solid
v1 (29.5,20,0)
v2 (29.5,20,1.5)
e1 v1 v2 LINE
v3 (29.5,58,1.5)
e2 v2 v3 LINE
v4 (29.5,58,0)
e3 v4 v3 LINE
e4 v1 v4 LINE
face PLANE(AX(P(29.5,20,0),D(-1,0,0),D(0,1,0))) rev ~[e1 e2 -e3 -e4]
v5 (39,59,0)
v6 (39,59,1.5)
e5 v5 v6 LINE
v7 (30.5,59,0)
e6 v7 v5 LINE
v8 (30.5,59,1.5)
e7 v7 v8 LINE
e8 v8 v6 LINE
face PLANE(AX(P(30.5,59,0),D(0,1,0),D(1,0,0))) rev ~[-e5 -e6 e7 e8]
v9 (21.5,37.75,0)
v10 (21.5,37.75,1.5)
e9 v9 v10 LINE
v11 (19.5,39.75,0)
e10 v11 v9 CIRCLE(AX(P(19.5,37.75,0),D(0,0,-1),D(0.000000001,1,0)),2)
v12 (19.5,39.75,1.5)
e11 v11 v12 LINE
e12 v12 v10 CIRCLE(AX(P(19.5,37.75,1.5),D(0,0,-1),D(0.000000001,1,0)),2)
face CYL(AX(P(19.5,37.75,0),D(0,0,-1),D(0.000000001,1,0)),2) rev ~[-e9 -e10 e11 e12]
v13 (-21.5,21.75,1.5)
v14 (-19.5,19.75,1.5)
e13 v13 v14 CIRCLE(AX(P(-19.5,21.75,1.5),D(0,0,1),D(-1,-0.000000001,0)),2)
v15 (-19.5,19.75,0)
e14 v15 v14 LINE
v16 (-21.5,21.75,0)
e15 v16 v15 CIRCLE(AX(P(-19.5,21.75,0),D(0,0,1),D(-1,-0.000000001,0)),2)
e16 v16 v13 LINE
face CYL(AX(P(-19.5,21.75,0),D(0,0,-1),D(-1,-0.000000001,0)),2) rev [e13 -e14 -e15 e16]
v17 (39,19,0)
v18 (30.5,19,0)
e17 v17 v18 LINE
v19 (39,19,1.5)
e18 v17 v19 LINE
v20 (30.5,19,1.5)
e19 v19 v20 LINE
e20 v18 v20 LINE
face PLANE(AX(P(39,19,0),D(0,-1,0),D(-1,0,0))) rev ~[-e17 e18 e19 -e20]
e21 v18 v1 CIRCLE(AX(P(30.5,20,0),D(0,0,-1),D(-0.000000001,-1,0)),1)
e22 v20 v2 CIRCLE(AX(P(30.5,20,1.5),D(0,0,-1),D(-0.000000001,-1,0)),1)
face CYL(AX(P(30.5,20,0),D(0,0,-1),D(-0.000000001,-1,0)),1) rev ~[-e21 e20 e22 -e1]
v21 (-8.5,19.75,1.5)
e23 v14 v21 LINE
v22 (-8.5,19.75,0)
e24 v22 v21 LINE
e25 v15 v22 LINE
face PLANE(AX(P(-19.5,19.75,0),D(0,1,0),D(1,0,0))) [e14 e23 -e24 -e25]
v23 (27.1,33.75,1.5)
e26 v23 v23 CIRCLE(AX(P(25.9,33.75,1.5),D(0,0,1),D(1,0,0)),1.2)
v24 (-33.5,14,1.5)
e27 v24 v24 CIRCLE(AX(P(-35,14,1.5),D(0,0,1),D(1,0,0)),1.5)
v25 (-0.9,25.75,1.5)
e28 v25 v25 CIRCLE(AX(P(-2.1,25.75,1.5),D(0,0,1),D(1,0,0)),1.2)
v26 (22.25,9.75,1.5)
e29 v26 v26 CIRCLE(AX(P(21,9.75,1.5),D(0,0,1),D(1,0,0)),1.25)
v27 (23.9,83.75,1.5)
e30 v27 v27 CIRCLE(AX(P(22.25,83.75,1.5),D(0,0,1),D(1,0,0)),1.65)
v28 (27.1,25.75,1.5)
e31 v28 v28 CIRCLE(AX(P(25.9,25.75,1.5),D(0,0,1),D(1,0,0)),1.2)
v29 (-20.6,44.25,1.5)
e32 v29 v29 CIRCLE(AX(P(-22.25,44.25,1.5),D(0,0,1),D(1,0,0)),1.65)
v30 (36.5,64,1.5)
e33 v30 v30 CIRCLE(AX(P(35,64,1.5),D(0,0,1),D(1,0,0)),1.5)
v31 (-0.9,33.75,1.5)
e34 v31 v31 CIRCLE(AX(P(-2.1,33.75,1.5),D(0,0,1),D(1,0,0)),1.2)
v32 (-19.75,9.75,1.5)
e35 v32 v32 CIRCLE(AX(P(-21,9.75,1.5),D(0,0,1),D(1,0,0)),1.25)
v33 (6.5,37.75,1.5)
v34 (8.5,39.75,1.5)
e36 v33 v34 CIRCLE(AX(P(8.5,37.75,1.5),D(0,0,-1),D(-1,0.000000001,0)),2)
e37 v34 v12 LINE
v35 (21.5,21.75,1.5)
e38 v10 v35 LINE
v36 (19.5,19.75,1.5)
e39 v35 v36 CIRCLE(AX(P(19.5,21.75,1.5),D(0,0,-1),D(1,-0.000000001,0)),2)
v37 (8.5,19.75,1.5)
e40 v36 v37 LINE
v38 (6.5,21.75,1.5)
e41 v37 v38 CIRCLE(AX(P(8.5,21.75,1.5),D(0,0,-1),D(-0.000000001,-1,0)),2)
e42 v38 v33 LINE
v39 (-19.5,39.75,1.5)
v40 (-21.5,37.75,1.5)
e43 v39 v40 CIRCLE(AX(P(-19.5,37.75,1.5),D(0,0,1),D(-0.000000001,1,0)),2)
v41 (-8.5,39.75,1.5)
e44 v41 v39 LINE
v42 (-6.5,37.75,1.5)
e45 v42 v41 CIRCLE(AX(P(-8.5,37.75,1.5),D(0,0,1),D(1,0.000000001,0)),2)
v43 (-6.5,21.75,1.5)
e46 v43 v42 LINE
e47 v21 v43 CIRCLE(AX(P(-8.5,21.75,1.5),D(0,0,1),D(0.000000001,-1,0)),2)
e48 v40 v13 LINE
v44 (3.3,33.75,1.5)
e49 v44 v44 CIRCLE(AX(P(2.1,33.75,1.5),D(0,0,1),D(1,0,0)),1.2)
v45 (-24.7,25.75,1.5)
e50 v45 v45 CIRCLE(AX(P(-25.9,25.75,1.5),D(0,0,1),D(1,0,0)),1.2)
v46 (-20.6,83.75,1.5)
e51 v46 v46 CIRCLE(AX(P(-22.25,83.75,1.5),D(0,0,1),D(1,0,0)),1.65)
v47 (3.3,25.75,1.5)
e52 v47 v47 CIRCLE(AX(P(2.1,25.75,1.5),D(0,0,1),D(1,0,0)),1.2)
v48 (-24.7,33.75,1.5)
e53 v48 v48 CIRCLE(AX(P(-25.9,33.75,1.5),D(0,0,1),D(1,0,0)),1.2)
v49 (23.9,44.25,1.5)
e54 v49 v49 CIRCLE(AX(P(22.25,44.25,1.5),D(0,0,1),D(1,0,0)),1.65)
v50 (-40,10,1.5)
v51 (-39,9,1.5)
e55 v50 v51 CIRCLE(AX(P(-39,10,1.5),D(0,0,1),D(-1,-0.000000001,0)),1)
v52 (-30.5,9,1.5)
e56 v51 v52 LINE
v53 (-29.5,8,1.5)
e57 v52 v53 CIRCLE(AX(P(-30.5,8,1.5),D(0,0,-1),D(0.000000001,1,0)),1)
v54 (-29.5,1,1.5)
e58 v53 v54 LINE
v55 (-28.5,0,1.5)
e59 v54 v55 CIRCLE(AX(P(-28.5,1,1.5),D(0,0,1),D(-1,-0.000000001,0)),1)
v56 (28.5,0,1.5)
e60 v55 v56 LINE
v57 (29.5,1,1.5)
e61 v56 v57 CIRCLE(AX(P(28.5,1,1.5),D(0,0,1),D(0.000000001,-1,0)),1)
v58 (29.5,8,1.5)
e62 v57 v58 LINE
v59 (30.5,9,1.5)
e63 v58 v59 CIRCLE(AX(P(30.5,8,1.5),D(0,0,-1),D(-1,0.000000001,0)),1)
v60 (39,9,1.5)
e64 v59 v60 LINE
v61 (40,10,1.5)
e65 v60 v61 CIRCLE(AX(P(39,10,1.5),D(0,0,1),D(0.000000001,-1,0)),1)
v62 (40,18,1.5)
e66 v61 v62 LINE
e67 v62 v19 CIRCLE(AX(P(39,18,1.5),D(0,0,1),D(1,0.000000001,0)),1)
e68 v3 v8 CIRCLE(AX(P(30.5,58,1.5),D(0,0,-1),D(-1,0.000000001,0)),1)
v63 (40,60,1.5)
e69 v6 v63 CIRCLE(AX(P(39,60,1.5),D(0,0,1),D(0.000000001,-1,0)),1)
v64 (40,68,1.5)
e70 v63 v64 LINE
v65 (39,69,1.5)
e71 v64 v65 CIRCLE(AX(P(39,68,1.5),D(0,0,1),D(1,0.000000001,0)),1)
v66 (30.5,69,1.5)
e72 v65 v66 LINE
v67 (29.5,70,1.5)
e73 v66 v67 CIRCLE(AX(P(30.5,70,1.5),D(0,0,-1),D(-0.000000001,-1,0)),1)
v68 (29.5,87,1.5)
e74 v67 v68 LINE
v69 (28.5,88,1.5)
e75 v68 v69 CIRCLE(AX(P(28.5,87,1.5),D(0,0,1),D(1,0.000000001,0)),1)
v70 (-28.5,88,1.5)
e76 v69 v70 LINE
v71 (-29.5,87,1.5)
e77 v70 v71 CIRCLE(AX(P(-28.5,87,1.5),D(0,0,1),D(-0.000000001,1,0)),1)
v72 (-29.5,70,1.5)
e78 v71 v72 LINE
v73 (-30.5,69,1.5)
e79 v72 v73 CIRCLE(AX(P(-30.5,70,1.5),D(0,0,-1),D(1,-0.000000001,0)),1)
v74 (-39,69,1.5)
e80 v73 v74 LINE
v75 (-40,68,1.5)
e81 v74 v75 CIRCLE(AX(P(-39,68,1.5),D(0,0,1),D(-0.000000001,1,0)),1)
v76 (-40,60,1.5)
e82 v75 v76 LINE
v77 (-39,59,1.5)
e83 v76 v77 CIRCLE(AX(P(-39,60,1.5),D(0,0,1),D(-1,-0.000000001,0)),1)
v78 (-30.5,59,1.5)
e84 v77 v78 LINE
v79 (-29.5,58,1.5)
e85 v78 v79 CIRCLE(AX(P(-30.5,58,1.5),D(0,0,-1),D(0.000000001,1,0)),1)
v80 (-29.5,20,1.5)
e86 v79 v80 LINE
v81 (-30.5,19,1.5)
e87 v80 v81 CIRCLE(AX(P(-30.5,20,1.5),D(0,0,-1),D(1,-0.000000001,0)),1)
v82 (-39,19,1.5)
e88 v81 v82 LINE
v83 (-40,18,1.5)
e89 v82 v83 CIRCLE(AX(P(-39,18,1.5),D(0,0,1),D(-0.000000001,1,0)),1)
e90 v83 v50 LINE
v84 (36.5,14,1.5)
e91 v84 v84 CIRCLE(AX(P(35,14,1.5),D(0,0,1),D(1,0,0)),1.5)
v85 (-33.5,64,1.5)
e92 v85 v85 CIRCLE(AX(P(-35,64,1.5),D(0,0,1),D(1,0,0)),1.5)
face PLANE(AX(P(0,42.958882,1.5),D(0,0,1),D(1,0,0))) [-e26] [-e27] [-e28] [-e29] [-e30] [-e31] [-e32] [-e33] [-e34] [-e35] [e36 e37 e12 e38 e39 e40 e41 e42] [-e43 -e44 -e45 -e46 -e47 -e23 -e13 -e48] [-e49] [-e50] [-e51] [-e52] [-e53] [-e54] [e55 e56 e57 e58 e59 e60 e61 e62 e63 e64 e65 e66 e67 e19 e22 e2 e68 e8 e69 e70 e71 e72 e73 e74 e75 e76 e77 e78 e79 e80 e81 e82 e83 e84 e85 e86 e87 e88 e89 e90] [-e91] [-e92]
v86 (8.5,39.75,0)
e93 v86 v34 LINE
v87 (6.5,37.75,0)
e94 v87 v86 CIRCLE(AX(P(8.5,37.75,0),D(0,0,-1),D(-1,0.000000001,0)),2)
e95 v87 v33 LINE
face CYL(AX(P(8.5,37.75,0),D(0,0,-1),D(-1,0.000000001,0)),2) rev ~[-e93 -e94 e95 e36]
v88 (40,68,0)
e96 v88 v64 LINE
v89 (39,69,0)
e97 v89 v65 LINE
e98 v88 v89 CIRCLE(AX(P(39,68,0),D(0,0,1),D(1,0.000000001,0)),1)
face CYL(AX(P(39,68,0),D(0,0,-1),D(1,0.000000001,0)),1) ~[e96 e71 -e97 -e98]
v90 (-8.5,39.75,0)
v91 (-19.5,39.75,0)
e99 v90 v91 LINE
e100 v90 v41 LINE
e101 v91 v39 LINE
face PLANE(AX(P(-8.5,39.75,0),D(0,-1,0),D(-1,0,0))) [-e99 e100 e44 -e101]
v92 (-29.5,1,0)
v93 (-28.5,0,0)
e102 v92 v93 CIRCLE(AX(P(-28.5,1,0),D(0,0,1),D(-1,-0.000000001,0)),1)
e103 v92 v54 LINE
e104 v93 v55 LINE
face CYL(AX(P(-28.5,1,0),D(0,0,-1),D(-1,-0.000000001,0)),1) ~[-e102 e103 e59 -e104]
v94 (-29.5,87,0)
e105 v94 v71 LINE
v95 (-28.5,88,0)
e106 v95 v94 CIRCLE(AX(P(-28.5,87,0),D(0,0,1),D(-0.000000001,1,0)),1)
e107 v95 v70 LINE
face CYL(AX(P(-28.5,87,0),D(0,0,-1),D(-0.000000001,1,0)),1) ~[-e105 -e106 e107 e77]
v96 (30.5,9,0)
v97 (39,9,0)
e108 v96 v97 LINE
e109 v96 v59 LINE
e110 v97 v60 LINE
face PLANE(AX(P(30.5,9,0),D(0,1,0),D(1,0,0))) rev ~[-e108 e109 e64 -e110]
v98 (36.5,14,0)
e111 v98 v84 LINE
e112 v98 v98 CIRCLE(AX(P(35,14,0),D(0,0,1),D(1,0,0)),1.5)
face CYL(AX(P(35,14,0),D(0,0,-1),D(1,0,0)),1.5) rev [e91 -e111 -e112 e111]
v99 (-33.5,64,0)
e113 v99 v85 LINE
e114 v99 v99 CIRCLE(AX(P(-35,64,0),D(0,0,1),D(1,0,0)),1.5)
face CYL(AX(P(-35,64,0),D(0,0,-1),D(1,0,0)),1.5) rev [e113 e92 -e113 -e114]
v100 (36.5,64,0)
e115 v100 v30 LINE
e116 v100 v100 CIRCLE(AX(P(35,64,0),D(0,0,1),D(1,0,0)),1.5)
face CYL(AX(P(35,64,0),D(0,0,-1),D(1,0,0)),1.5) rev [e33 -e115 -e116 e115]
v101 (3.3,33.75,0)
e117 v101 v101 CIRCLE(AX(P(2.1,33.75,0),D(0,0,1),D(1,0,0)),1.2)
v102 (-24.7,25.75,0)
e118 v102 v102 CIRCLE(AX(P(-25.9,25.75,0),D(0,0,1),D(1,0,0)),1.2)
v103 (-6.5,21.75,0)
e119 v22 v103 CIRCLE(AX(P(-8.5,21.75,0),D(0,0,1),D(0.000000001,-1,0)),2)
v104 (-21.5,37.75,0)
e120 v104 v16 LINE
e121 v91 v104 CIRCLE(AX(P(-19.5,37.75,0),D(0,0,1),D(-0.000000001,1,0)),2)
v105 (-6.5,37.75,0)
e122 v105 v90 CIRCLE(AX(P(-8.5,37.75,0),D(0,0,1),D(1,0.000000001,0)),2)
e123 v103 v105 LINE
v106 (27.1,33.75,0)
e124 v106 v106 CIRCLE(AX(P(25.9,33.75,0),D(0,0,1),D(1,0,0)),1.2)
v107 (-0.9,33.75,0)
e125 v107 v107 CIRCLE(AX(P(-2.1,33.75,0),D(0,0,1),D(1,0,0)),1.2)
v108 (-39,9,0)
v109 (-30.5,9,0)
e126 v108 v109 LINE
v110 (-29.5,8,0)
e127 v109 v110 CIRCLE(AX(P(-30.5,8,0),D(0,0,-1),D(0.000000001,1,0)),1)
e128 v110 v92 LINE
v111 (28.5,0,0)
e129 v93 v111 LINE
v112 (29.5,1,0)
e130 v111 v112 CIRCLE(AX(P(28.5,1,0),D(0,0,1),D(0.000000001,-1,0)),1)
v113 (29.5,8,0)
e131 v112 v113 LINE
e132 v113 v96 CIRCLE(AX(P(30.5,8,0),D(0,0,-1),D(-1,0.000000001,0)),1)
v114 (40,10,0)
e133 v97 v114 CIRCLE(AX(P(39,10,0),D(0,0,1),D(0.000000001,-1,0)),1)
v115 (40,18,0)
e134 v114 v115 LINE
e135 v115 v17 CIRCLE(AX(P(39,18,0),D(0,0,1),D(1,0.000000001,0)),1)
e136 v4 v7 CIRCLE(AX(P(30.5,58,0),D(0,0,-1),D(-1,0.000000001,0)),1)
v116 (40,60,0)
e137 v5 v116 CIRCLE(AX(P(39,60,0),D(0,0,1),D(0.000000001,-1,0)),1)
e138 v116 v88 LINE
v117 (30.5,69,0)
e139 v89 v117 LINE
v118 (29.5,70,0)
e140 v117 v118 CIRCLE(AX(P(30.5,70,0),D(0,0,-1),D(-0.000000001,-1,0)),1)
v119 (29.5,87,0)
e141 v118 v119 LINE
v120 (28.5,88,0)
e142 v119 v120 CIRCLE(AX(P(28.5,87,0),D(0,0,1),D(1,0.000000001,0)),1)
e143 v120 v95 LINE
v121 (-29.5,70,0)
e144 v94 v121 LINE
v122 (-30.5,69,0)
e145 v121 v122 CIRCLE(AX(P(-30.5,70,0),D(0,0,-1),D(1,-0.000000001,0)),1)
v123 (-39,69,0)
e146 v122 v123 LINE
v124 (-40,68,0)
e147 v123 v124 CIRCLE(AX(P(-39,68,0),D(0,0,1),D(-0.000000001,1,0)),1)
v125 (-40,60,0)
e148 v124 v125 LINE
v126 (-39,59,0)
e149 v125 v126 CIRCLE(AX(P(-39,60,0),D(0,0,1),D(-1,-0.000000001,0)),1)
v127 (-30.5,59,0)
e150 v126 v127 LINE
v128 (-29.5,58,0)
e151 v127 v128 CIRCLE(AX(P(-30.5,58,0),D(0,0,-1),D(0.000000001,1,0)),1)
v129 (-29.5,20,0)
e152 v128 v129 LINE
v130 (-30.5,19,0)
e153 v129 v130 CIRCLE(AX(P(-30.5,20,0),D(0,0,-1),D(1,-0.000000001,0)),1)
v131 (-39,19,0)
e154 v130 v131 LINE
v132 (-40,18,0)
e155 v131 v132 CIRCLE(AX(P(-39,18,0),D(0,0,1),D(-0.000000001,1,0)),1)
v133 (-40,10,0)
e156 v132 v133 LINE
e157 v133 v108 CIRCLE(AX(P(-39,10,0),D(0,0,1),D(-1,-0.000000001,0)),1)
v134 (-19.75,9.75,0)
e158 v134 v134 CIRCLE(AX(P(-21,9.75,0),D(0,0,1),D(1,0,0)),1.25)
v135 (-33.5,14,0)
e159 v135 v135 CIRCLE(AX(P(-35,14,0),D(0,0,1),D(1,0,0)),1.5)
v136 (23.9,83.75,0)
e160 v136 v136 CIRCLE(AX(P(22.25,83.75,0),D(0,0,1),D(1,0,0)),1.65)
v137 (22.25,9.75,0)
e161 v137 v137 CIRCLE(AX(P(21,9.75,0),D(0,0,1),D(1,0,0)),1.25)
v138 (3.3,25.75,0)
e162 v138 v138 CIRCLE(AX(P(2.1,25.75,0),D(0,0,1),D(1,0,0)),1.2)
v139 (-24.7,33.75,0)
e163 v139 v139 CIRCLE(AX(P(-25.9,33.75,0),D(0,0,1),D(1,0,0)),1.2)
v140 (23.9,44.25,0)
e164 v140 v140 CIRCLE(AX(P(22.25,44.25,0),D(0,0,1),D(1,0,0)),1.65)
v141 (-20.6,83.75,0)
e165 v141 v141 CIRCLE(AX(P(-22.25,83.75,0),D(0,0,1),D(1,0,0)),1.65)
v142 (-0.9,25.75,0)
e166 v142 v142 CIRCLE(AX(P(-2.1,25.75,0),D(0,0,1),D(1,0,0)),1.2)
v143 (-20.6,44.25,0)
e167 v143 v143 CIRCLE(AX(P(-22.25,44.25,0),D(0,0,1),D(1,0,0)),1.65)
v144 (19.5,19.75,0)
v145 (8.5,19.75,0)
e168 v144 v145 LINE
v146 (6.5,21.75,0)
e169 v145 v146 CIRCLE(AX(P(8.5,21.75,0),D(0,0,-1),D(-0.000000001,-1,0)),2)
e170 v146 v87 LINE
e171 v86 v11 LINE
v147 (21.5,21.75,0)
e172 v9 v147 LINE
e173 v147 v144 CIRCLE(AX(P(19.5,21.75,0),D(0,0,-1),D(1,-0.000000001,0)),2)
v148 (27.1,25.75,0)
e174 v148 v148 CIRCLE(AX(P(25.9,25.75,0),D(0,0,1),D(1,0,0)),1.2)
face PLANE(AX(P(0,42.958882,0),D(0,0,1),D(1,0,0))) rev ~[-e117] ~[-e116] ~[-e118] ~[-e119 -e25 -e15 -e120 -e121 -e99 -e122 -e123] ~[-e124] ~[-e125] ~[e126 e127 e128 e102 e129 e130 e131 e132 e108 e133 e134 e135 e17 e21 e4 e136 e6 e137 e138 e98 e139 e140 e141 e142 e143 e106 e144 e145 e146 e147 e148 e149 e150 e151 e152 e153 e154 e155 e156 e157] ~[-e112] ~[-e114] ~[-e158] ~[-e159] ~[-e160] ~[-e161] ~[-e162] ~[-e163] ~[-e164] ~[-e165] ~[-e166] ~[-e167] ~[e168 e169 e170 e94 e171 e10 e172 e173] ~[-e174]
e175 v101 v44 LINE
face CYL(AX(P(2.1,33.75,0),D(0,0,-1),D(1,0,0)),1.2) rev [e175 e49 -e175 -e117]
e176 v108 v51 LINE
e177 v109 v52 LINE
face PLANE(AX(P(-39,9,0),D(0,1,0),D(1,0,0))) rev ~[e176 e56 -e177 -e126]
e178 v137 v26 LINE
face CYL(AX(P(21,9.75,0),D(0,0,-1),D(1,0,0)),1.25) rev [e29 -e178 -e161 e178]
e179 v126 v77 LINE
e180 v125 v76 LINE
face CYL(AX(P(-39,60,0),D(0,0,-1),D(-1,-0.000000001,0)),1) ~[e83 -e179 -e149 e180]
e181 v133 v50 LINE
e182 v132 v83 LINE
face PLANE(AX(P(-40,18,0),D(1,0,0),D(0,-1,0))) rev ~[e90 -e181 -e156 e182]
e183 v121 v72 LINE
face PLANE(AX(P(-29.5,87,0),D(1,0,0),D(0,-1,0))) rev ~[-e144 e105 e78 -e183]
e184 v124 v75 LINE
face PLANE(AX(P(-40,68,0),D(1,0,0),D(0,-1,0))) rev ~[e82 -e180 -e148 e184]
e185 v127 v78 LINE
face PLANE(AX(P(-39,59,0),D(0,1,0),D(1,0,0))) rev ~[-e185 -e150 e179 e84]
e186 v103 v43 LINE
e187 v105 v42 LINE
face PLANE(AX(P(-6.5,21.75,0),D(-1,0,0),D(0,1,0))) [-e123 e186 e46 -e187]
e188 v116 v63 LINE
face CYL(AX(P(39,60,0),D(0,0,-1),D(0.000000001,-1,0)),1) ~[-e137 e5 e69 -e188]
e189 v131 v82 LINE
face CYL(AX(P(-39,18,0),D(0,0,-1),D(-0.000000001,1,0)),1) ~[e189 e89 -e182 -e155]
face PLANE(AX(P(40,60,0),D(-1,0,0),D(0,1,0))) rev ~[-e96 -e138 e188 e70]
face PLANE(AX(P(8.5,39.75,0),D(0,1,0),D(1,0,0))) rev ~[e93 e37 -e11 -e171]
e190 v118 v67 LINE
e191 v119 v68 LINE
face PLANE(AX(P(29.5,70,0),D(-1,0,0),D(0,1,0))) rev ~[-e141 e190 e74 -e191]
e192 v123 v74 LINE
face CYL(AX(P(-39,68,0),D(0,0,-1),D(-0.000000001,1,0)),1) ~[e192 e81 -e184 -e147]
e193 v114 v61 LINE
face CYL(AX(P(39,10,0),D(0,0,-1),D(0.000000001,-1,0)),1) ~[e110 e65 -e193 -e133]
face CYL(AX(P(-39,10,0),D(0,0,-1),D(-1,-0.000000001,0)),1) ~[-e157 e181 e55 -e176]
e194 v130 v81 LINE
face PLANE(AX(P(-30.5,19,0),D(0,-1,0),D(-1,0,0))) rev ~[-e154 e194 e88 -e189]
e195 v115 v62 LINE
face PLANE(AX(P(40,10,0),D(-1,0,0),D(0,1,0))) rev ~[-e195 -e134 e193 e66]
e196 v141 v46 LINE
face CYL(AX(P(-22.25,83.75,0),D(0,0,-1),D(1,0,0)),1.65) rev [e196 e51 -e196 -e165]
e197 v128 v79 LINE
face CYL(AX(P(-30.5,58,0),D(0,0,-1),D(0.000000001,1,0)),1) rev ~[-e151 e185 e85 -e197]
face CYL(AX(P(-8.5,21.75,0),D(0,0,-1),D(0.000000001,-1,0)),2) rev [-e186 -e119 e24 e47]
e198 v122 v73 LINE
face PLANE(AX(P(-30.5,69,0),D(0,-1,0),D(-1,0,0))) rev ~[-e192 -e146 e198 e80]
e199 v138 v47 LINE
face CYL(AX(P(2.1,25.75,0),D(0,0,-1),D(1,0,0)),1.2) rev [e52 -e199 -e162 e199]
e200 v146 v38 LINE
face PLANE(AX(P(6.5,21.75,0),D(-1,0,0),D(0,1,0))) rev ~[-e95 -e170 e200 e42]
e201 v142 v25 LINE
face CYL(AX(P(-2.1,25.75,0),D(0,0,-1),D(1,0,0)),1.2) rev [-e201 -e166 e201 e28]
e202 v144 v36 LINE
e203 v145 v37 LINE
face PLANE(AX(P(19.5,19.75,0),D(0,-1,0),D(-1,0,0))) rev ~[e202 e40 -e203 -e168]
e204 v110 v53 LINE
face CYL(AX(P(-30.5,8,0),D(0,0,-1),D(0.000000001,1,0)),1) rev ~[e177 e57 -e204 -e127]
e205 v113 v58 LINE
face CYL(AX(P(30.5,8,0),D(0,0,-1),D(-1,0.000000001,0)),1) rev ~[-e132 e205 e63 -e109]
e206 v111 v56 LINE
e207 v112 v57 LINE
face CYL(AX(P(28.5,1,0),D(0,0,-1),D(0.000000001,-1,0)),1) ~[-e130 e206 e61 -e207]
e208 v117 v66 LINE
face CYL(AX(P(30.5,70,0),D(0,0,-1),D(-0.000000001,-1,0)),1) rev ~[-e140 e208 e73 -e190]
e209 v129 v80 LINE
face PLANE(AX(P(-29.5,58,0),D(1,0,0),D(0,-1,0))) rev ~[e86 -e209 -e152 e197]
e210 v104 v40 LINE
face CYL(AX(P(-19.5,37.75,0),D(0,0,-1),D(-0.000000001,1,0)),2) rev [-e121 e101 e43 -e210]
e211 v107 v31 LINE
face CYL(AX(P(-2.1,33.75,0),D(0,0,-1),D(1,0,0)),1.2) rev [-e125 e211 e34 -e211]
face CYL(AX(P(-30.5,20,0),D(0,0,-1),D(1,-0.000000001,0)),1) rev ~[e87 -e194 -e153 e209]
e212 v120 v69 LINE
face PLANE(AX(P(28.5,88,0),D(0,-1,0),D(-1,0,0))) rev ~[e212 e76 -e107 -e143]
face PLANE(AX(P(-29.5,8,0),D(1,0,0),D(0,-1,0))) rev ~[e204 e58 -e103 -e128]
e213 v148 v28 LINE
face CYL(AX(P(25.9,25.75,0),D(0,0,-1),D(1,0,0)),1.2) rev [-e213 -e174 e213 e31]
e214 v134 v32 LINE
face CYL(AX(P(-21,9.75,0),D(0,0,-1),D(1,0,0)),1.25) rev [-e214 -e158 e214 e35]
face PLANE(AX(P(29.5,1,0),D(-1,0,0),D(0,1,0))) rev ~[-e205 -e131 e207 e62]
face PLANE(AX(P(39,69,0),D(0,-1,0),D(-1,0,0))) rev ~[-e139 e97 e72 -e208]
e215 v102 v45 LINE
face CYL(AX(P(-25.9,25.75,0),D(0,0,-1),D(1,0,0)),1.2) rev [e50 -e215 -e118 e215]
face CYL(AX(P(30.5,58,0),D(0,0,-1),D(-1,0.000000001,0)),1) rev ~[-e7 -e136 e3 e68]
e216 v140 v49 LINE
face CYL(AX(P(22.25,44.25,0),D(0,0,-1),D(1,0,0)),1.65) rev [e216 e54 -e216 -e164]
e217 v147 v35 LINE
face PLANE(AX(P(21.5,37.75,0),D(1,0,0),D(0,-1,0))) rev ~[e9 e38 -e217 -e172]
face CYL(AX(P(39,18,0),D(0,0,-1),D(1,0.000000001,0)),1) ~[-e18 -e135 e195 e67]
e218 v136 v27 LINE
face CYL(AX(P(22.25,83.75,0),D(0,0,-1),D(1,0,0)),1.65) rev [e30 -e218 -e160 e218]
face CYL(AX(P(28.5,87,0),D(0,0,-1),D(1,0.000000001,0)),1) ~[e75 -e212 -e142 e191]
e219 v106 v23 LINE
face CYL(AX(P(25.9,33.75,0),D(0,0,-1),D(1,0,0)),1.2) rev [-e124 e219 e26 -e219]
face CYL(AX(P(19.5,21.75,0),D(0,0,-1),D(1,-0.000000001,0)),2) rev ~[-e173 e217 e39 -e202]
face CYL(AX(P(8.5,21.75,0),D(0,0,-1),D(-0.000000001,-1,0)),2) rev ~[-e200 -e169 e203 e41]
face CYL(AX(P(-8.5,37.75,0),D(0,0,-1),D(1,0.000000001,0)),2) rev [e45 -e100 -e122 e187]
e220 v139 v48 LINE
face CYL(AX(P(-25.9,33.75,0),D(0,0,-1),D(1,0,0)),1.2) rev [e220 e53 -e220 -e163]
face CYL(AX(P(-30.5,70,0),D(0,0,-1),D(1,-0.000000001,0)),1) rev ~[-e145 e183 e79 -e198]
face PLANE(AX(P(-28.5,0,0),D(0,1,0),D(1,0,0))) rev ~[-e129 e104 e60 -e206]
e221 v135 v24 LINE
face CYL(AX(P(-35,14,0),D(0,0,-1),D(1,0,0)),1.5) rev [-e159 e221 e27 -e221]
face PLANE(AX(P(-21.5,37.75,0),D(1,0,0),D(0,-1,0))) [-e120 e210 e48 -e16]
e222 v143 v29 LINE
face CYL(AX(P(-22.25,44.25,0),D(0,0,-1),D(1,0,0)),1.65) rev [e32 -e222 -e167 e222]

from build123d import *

# Parameters (mm, degrees)
MODEL_R         = 1.25
MODEL_R_2       = 1.65
MODEL_R_3       = 1.2
MODEL_R_4       = 1.5
EXTRUDE_1_DEPTH = 1.5


with BuildPart() as part:
    # Model → Бобышка-Вытянуть1 (new body)
    with BuildSketch(Plane.XY):
        with BuildLine():
            Line((-28.5, 0), (28.5, 0))
            ThreePointArc((28.5, 0), (29.207106781, 0.292893219), (29.5, 1))
            Line((29.5, 1), (29.5, 8))
            ThreePointArc((29.5, 8), (29.792893219, 8.707106781), (30.5, 9))
            Line((30.5, 9), (39, 9))
            ThreePointArc((39, 9), (39.707106781, 9.292893219), (40, 10))
            Line((40, 10), (40, 14))
            Line((40, 14), (40, 18))
            ThreePointArc((40, 18), (39.707106781, 18.707106781), (39, 19))
            Line((39, 19), (30.5, 19))
            ThreePointArc((30.5, 19), (29.792893219, 19.292893219), (29.5, 20))
            Line((29.5, 20), (29.5, 58))
            ThreePointArc((29.5, 58), (29.792893219, 58.707106781), (30.5, 59))
            Line((30.5, 59), (39, 59))
            ThreePointArc((39, 59), (39.707106781, 59.292893219), (40, 60))
            Line((40, 60), (40, 64))
            Line((40, 64), (40, 68))
            ThreePointArc((40, 68), (39.707106781, 68.707106781), (39, 69))
            Line((39, 69), (30.5, 69))
            ThreePointArc((30.5, 69), (29.792893219, 69.292893219), (29.5, 70))
            Line((29.5, 70), (29.5, 87))
            ThreePointArc((29.5, 87), (29.207106781, 87.707106781), (28.5, 88))
            Line((28.5, 88), (-28.5, 88))
            ThreePointArc((-28.5, 88), (-29.207106781, 87.707106781), (-29.5, 87))
            Line((-29.5, 87), (-29.5, 70))
            ThreePointArc((-29.5, 70), (-29.792893219, 69.292893219), (-30.5, 69))
            Line((-30.5, 69), (-39, 69))
            ThreePointArc((-39, 69), (-39.707106781, 68.707106781), (-40, 68))
            Line((-40, 68), (-40, 64))
            Line((-40, 64), (-40, 60))
            ThreePointArc((-40, 60), (-39.707106781, 59.292893219), (-39, 59))
            Line((-39, 59), (-30.5, 59))
            ThreePointArc((-30.5, 59), (-29.792893219, 58.707106781), (-29.5, 58))
            Line((-29.5, 58), (-29.5, 20))
            ThreePointArc((-29.5, 20), (-29.792893219, 19.292893219), (-30.5, 19))
            Line((-30.5, 19), (-39, 19))
            ThreePointArc((-39, 19), (-39.707106781, 18.707106781), (-40, 18))
            Line((-40, 18), (-40, 14))
            Line((-40, 14), (-40, 10))
            ThreePointArc((-40, 10), (-39.707106781, 9.292893219), (-39, 9))
            Line((-39, 9), (-30.5, 9))
            ThreePointArc((-30.5, 9), (-29.792893219, 8.707106781), (-29.5, 8))
            Line((-29.5, 8), (-29.5, 1))
            ThreePointArc((-29.5, 1), (-29.207106781, 0.292893219), (-28.5, 0))
        make_face()
        with Locations((-21, 9.75)):
            Circle(MODEL_R, mode=Mode.SUBTRACT)
        with Locations((-22.25, 83.75)):
            Circle(MODEL_R_2, mode=Mode.SUBTRACT)
        with Locations((-22.25, 44.25)):
            Circle(MODEL_R_2, mode=Mode.SUBTRACT)
        with Locations((-25.9, 33.75)):
            Circle(MODEL_R_3, mode=Mode.SUBTRACT)
        with Locations((-25.9, 25.75)):
            Circle(MODEL_R_3, mode=Mode.SUBTRACT)
        with Locations((-2.1, 33.75)):
            Circle(MODEL_R_3, mode=Mode.SUBTRACT)
        with Locations((-2.1, 25.75)):
            Circle(MODEL_R_3, mode=Mode.SUBTRACT)
        with Locations((2.1, 33.75)):
            Circle(MODEL_R_3, mode=Mode.SUBTRACT)
        with Locations((2.1, 25.75)):
            Circle(MODEL_R_3, mode=Mode.SUBTRACT)
        with Locations((-35, 64)):
            Circle(MODEL_R_4, mode=Mode.SUBTRACT)
        with Locations((-35, 14)):
            Circle(MODEL_R_4, mode=Mode.SUBTRACT)
        with Locations((21, 9.75)):
            Circle(MODEL_R, mode=Mode.SUBTRACT)
        with Locations((22.25, 83.75)):
            Circle(MODEL_R_2, mode=Mode.SUBTRACT)
        with Locations((22.25, 44.25)):
            Circle(MODEL_R_2, mode=Mode.SUBTRACT)
        with Locations((25.9, 33.75)):
            Circle(MODEL_R_3, mode=Mode.SUBTRACT)
        with Locations((25.9, 25.75)):
            Circle(MODEL_R_3, mode=Mode.SUBTRACT)
        with Locations((35, 64)):
            Circle(MODEL_R_4, mode=Mode.SUBTRACT)
        with Locations((35, 14)):
            Circle(MODEL_R_4, mode=Mode.SUBTRACT)
        with BuildLine():
            Line((-21.5, 37.75), (-21.5, 21.75))
            ThreePointArc((-21.5, 21.75), (-20.914213562, 20.335786438), (-19.5, 19.75))
            Line((-19.5, 19.75), (-8.5, 19.75))
            ThreePointArc((-8.5, 19.75), (-7.085786438, 20.335786438), (-6.5, 21.75))
            Line((-6.5, 21.75), (-6.5, 37.75))
            ThreePointArc((-6.5, 37.75), (-7.085786438, 39.164213562), (-8.5, 39.75))
            Line((-8.5, 39.75), (-19.5, 39.75))
            ThreePointArc((-19.5, 39.75), (-20.914213562, 39.164213562), (-21.5, 37.75))
        make_face(mode=Mode.SUBTRACT)
        with BuildLine():
            Line((19.5, 19.75), (8.5, 19.75))
            ThreePointArc((8.5, 19.75), (7.085786438, 20.335786438), (6.5, 21.75))
            Line((6.5, 21.75), (6.5, 37.75))
            ThreePointArc((6.5, 37.75), (7.085786438, 39.164213562), (8.5, 39.75))
            Line((8.5, 39.75), (19.5, 39.75))
            ThreePointArc((19.5, 39.75), (20.914213562, 39.164213562), (21.5, 37.75))
            Line((21.5, 37.75), (21.5, 21.75))
            ThreePointArc((21.5, 21.75), (20.914213562, 20.335786438), (19.5, 19.75))
        make_face(mode=Mode.SUBTRACT)
    extrude(amount=EXTRUDE_1_DEPTH)


solid = part.part
